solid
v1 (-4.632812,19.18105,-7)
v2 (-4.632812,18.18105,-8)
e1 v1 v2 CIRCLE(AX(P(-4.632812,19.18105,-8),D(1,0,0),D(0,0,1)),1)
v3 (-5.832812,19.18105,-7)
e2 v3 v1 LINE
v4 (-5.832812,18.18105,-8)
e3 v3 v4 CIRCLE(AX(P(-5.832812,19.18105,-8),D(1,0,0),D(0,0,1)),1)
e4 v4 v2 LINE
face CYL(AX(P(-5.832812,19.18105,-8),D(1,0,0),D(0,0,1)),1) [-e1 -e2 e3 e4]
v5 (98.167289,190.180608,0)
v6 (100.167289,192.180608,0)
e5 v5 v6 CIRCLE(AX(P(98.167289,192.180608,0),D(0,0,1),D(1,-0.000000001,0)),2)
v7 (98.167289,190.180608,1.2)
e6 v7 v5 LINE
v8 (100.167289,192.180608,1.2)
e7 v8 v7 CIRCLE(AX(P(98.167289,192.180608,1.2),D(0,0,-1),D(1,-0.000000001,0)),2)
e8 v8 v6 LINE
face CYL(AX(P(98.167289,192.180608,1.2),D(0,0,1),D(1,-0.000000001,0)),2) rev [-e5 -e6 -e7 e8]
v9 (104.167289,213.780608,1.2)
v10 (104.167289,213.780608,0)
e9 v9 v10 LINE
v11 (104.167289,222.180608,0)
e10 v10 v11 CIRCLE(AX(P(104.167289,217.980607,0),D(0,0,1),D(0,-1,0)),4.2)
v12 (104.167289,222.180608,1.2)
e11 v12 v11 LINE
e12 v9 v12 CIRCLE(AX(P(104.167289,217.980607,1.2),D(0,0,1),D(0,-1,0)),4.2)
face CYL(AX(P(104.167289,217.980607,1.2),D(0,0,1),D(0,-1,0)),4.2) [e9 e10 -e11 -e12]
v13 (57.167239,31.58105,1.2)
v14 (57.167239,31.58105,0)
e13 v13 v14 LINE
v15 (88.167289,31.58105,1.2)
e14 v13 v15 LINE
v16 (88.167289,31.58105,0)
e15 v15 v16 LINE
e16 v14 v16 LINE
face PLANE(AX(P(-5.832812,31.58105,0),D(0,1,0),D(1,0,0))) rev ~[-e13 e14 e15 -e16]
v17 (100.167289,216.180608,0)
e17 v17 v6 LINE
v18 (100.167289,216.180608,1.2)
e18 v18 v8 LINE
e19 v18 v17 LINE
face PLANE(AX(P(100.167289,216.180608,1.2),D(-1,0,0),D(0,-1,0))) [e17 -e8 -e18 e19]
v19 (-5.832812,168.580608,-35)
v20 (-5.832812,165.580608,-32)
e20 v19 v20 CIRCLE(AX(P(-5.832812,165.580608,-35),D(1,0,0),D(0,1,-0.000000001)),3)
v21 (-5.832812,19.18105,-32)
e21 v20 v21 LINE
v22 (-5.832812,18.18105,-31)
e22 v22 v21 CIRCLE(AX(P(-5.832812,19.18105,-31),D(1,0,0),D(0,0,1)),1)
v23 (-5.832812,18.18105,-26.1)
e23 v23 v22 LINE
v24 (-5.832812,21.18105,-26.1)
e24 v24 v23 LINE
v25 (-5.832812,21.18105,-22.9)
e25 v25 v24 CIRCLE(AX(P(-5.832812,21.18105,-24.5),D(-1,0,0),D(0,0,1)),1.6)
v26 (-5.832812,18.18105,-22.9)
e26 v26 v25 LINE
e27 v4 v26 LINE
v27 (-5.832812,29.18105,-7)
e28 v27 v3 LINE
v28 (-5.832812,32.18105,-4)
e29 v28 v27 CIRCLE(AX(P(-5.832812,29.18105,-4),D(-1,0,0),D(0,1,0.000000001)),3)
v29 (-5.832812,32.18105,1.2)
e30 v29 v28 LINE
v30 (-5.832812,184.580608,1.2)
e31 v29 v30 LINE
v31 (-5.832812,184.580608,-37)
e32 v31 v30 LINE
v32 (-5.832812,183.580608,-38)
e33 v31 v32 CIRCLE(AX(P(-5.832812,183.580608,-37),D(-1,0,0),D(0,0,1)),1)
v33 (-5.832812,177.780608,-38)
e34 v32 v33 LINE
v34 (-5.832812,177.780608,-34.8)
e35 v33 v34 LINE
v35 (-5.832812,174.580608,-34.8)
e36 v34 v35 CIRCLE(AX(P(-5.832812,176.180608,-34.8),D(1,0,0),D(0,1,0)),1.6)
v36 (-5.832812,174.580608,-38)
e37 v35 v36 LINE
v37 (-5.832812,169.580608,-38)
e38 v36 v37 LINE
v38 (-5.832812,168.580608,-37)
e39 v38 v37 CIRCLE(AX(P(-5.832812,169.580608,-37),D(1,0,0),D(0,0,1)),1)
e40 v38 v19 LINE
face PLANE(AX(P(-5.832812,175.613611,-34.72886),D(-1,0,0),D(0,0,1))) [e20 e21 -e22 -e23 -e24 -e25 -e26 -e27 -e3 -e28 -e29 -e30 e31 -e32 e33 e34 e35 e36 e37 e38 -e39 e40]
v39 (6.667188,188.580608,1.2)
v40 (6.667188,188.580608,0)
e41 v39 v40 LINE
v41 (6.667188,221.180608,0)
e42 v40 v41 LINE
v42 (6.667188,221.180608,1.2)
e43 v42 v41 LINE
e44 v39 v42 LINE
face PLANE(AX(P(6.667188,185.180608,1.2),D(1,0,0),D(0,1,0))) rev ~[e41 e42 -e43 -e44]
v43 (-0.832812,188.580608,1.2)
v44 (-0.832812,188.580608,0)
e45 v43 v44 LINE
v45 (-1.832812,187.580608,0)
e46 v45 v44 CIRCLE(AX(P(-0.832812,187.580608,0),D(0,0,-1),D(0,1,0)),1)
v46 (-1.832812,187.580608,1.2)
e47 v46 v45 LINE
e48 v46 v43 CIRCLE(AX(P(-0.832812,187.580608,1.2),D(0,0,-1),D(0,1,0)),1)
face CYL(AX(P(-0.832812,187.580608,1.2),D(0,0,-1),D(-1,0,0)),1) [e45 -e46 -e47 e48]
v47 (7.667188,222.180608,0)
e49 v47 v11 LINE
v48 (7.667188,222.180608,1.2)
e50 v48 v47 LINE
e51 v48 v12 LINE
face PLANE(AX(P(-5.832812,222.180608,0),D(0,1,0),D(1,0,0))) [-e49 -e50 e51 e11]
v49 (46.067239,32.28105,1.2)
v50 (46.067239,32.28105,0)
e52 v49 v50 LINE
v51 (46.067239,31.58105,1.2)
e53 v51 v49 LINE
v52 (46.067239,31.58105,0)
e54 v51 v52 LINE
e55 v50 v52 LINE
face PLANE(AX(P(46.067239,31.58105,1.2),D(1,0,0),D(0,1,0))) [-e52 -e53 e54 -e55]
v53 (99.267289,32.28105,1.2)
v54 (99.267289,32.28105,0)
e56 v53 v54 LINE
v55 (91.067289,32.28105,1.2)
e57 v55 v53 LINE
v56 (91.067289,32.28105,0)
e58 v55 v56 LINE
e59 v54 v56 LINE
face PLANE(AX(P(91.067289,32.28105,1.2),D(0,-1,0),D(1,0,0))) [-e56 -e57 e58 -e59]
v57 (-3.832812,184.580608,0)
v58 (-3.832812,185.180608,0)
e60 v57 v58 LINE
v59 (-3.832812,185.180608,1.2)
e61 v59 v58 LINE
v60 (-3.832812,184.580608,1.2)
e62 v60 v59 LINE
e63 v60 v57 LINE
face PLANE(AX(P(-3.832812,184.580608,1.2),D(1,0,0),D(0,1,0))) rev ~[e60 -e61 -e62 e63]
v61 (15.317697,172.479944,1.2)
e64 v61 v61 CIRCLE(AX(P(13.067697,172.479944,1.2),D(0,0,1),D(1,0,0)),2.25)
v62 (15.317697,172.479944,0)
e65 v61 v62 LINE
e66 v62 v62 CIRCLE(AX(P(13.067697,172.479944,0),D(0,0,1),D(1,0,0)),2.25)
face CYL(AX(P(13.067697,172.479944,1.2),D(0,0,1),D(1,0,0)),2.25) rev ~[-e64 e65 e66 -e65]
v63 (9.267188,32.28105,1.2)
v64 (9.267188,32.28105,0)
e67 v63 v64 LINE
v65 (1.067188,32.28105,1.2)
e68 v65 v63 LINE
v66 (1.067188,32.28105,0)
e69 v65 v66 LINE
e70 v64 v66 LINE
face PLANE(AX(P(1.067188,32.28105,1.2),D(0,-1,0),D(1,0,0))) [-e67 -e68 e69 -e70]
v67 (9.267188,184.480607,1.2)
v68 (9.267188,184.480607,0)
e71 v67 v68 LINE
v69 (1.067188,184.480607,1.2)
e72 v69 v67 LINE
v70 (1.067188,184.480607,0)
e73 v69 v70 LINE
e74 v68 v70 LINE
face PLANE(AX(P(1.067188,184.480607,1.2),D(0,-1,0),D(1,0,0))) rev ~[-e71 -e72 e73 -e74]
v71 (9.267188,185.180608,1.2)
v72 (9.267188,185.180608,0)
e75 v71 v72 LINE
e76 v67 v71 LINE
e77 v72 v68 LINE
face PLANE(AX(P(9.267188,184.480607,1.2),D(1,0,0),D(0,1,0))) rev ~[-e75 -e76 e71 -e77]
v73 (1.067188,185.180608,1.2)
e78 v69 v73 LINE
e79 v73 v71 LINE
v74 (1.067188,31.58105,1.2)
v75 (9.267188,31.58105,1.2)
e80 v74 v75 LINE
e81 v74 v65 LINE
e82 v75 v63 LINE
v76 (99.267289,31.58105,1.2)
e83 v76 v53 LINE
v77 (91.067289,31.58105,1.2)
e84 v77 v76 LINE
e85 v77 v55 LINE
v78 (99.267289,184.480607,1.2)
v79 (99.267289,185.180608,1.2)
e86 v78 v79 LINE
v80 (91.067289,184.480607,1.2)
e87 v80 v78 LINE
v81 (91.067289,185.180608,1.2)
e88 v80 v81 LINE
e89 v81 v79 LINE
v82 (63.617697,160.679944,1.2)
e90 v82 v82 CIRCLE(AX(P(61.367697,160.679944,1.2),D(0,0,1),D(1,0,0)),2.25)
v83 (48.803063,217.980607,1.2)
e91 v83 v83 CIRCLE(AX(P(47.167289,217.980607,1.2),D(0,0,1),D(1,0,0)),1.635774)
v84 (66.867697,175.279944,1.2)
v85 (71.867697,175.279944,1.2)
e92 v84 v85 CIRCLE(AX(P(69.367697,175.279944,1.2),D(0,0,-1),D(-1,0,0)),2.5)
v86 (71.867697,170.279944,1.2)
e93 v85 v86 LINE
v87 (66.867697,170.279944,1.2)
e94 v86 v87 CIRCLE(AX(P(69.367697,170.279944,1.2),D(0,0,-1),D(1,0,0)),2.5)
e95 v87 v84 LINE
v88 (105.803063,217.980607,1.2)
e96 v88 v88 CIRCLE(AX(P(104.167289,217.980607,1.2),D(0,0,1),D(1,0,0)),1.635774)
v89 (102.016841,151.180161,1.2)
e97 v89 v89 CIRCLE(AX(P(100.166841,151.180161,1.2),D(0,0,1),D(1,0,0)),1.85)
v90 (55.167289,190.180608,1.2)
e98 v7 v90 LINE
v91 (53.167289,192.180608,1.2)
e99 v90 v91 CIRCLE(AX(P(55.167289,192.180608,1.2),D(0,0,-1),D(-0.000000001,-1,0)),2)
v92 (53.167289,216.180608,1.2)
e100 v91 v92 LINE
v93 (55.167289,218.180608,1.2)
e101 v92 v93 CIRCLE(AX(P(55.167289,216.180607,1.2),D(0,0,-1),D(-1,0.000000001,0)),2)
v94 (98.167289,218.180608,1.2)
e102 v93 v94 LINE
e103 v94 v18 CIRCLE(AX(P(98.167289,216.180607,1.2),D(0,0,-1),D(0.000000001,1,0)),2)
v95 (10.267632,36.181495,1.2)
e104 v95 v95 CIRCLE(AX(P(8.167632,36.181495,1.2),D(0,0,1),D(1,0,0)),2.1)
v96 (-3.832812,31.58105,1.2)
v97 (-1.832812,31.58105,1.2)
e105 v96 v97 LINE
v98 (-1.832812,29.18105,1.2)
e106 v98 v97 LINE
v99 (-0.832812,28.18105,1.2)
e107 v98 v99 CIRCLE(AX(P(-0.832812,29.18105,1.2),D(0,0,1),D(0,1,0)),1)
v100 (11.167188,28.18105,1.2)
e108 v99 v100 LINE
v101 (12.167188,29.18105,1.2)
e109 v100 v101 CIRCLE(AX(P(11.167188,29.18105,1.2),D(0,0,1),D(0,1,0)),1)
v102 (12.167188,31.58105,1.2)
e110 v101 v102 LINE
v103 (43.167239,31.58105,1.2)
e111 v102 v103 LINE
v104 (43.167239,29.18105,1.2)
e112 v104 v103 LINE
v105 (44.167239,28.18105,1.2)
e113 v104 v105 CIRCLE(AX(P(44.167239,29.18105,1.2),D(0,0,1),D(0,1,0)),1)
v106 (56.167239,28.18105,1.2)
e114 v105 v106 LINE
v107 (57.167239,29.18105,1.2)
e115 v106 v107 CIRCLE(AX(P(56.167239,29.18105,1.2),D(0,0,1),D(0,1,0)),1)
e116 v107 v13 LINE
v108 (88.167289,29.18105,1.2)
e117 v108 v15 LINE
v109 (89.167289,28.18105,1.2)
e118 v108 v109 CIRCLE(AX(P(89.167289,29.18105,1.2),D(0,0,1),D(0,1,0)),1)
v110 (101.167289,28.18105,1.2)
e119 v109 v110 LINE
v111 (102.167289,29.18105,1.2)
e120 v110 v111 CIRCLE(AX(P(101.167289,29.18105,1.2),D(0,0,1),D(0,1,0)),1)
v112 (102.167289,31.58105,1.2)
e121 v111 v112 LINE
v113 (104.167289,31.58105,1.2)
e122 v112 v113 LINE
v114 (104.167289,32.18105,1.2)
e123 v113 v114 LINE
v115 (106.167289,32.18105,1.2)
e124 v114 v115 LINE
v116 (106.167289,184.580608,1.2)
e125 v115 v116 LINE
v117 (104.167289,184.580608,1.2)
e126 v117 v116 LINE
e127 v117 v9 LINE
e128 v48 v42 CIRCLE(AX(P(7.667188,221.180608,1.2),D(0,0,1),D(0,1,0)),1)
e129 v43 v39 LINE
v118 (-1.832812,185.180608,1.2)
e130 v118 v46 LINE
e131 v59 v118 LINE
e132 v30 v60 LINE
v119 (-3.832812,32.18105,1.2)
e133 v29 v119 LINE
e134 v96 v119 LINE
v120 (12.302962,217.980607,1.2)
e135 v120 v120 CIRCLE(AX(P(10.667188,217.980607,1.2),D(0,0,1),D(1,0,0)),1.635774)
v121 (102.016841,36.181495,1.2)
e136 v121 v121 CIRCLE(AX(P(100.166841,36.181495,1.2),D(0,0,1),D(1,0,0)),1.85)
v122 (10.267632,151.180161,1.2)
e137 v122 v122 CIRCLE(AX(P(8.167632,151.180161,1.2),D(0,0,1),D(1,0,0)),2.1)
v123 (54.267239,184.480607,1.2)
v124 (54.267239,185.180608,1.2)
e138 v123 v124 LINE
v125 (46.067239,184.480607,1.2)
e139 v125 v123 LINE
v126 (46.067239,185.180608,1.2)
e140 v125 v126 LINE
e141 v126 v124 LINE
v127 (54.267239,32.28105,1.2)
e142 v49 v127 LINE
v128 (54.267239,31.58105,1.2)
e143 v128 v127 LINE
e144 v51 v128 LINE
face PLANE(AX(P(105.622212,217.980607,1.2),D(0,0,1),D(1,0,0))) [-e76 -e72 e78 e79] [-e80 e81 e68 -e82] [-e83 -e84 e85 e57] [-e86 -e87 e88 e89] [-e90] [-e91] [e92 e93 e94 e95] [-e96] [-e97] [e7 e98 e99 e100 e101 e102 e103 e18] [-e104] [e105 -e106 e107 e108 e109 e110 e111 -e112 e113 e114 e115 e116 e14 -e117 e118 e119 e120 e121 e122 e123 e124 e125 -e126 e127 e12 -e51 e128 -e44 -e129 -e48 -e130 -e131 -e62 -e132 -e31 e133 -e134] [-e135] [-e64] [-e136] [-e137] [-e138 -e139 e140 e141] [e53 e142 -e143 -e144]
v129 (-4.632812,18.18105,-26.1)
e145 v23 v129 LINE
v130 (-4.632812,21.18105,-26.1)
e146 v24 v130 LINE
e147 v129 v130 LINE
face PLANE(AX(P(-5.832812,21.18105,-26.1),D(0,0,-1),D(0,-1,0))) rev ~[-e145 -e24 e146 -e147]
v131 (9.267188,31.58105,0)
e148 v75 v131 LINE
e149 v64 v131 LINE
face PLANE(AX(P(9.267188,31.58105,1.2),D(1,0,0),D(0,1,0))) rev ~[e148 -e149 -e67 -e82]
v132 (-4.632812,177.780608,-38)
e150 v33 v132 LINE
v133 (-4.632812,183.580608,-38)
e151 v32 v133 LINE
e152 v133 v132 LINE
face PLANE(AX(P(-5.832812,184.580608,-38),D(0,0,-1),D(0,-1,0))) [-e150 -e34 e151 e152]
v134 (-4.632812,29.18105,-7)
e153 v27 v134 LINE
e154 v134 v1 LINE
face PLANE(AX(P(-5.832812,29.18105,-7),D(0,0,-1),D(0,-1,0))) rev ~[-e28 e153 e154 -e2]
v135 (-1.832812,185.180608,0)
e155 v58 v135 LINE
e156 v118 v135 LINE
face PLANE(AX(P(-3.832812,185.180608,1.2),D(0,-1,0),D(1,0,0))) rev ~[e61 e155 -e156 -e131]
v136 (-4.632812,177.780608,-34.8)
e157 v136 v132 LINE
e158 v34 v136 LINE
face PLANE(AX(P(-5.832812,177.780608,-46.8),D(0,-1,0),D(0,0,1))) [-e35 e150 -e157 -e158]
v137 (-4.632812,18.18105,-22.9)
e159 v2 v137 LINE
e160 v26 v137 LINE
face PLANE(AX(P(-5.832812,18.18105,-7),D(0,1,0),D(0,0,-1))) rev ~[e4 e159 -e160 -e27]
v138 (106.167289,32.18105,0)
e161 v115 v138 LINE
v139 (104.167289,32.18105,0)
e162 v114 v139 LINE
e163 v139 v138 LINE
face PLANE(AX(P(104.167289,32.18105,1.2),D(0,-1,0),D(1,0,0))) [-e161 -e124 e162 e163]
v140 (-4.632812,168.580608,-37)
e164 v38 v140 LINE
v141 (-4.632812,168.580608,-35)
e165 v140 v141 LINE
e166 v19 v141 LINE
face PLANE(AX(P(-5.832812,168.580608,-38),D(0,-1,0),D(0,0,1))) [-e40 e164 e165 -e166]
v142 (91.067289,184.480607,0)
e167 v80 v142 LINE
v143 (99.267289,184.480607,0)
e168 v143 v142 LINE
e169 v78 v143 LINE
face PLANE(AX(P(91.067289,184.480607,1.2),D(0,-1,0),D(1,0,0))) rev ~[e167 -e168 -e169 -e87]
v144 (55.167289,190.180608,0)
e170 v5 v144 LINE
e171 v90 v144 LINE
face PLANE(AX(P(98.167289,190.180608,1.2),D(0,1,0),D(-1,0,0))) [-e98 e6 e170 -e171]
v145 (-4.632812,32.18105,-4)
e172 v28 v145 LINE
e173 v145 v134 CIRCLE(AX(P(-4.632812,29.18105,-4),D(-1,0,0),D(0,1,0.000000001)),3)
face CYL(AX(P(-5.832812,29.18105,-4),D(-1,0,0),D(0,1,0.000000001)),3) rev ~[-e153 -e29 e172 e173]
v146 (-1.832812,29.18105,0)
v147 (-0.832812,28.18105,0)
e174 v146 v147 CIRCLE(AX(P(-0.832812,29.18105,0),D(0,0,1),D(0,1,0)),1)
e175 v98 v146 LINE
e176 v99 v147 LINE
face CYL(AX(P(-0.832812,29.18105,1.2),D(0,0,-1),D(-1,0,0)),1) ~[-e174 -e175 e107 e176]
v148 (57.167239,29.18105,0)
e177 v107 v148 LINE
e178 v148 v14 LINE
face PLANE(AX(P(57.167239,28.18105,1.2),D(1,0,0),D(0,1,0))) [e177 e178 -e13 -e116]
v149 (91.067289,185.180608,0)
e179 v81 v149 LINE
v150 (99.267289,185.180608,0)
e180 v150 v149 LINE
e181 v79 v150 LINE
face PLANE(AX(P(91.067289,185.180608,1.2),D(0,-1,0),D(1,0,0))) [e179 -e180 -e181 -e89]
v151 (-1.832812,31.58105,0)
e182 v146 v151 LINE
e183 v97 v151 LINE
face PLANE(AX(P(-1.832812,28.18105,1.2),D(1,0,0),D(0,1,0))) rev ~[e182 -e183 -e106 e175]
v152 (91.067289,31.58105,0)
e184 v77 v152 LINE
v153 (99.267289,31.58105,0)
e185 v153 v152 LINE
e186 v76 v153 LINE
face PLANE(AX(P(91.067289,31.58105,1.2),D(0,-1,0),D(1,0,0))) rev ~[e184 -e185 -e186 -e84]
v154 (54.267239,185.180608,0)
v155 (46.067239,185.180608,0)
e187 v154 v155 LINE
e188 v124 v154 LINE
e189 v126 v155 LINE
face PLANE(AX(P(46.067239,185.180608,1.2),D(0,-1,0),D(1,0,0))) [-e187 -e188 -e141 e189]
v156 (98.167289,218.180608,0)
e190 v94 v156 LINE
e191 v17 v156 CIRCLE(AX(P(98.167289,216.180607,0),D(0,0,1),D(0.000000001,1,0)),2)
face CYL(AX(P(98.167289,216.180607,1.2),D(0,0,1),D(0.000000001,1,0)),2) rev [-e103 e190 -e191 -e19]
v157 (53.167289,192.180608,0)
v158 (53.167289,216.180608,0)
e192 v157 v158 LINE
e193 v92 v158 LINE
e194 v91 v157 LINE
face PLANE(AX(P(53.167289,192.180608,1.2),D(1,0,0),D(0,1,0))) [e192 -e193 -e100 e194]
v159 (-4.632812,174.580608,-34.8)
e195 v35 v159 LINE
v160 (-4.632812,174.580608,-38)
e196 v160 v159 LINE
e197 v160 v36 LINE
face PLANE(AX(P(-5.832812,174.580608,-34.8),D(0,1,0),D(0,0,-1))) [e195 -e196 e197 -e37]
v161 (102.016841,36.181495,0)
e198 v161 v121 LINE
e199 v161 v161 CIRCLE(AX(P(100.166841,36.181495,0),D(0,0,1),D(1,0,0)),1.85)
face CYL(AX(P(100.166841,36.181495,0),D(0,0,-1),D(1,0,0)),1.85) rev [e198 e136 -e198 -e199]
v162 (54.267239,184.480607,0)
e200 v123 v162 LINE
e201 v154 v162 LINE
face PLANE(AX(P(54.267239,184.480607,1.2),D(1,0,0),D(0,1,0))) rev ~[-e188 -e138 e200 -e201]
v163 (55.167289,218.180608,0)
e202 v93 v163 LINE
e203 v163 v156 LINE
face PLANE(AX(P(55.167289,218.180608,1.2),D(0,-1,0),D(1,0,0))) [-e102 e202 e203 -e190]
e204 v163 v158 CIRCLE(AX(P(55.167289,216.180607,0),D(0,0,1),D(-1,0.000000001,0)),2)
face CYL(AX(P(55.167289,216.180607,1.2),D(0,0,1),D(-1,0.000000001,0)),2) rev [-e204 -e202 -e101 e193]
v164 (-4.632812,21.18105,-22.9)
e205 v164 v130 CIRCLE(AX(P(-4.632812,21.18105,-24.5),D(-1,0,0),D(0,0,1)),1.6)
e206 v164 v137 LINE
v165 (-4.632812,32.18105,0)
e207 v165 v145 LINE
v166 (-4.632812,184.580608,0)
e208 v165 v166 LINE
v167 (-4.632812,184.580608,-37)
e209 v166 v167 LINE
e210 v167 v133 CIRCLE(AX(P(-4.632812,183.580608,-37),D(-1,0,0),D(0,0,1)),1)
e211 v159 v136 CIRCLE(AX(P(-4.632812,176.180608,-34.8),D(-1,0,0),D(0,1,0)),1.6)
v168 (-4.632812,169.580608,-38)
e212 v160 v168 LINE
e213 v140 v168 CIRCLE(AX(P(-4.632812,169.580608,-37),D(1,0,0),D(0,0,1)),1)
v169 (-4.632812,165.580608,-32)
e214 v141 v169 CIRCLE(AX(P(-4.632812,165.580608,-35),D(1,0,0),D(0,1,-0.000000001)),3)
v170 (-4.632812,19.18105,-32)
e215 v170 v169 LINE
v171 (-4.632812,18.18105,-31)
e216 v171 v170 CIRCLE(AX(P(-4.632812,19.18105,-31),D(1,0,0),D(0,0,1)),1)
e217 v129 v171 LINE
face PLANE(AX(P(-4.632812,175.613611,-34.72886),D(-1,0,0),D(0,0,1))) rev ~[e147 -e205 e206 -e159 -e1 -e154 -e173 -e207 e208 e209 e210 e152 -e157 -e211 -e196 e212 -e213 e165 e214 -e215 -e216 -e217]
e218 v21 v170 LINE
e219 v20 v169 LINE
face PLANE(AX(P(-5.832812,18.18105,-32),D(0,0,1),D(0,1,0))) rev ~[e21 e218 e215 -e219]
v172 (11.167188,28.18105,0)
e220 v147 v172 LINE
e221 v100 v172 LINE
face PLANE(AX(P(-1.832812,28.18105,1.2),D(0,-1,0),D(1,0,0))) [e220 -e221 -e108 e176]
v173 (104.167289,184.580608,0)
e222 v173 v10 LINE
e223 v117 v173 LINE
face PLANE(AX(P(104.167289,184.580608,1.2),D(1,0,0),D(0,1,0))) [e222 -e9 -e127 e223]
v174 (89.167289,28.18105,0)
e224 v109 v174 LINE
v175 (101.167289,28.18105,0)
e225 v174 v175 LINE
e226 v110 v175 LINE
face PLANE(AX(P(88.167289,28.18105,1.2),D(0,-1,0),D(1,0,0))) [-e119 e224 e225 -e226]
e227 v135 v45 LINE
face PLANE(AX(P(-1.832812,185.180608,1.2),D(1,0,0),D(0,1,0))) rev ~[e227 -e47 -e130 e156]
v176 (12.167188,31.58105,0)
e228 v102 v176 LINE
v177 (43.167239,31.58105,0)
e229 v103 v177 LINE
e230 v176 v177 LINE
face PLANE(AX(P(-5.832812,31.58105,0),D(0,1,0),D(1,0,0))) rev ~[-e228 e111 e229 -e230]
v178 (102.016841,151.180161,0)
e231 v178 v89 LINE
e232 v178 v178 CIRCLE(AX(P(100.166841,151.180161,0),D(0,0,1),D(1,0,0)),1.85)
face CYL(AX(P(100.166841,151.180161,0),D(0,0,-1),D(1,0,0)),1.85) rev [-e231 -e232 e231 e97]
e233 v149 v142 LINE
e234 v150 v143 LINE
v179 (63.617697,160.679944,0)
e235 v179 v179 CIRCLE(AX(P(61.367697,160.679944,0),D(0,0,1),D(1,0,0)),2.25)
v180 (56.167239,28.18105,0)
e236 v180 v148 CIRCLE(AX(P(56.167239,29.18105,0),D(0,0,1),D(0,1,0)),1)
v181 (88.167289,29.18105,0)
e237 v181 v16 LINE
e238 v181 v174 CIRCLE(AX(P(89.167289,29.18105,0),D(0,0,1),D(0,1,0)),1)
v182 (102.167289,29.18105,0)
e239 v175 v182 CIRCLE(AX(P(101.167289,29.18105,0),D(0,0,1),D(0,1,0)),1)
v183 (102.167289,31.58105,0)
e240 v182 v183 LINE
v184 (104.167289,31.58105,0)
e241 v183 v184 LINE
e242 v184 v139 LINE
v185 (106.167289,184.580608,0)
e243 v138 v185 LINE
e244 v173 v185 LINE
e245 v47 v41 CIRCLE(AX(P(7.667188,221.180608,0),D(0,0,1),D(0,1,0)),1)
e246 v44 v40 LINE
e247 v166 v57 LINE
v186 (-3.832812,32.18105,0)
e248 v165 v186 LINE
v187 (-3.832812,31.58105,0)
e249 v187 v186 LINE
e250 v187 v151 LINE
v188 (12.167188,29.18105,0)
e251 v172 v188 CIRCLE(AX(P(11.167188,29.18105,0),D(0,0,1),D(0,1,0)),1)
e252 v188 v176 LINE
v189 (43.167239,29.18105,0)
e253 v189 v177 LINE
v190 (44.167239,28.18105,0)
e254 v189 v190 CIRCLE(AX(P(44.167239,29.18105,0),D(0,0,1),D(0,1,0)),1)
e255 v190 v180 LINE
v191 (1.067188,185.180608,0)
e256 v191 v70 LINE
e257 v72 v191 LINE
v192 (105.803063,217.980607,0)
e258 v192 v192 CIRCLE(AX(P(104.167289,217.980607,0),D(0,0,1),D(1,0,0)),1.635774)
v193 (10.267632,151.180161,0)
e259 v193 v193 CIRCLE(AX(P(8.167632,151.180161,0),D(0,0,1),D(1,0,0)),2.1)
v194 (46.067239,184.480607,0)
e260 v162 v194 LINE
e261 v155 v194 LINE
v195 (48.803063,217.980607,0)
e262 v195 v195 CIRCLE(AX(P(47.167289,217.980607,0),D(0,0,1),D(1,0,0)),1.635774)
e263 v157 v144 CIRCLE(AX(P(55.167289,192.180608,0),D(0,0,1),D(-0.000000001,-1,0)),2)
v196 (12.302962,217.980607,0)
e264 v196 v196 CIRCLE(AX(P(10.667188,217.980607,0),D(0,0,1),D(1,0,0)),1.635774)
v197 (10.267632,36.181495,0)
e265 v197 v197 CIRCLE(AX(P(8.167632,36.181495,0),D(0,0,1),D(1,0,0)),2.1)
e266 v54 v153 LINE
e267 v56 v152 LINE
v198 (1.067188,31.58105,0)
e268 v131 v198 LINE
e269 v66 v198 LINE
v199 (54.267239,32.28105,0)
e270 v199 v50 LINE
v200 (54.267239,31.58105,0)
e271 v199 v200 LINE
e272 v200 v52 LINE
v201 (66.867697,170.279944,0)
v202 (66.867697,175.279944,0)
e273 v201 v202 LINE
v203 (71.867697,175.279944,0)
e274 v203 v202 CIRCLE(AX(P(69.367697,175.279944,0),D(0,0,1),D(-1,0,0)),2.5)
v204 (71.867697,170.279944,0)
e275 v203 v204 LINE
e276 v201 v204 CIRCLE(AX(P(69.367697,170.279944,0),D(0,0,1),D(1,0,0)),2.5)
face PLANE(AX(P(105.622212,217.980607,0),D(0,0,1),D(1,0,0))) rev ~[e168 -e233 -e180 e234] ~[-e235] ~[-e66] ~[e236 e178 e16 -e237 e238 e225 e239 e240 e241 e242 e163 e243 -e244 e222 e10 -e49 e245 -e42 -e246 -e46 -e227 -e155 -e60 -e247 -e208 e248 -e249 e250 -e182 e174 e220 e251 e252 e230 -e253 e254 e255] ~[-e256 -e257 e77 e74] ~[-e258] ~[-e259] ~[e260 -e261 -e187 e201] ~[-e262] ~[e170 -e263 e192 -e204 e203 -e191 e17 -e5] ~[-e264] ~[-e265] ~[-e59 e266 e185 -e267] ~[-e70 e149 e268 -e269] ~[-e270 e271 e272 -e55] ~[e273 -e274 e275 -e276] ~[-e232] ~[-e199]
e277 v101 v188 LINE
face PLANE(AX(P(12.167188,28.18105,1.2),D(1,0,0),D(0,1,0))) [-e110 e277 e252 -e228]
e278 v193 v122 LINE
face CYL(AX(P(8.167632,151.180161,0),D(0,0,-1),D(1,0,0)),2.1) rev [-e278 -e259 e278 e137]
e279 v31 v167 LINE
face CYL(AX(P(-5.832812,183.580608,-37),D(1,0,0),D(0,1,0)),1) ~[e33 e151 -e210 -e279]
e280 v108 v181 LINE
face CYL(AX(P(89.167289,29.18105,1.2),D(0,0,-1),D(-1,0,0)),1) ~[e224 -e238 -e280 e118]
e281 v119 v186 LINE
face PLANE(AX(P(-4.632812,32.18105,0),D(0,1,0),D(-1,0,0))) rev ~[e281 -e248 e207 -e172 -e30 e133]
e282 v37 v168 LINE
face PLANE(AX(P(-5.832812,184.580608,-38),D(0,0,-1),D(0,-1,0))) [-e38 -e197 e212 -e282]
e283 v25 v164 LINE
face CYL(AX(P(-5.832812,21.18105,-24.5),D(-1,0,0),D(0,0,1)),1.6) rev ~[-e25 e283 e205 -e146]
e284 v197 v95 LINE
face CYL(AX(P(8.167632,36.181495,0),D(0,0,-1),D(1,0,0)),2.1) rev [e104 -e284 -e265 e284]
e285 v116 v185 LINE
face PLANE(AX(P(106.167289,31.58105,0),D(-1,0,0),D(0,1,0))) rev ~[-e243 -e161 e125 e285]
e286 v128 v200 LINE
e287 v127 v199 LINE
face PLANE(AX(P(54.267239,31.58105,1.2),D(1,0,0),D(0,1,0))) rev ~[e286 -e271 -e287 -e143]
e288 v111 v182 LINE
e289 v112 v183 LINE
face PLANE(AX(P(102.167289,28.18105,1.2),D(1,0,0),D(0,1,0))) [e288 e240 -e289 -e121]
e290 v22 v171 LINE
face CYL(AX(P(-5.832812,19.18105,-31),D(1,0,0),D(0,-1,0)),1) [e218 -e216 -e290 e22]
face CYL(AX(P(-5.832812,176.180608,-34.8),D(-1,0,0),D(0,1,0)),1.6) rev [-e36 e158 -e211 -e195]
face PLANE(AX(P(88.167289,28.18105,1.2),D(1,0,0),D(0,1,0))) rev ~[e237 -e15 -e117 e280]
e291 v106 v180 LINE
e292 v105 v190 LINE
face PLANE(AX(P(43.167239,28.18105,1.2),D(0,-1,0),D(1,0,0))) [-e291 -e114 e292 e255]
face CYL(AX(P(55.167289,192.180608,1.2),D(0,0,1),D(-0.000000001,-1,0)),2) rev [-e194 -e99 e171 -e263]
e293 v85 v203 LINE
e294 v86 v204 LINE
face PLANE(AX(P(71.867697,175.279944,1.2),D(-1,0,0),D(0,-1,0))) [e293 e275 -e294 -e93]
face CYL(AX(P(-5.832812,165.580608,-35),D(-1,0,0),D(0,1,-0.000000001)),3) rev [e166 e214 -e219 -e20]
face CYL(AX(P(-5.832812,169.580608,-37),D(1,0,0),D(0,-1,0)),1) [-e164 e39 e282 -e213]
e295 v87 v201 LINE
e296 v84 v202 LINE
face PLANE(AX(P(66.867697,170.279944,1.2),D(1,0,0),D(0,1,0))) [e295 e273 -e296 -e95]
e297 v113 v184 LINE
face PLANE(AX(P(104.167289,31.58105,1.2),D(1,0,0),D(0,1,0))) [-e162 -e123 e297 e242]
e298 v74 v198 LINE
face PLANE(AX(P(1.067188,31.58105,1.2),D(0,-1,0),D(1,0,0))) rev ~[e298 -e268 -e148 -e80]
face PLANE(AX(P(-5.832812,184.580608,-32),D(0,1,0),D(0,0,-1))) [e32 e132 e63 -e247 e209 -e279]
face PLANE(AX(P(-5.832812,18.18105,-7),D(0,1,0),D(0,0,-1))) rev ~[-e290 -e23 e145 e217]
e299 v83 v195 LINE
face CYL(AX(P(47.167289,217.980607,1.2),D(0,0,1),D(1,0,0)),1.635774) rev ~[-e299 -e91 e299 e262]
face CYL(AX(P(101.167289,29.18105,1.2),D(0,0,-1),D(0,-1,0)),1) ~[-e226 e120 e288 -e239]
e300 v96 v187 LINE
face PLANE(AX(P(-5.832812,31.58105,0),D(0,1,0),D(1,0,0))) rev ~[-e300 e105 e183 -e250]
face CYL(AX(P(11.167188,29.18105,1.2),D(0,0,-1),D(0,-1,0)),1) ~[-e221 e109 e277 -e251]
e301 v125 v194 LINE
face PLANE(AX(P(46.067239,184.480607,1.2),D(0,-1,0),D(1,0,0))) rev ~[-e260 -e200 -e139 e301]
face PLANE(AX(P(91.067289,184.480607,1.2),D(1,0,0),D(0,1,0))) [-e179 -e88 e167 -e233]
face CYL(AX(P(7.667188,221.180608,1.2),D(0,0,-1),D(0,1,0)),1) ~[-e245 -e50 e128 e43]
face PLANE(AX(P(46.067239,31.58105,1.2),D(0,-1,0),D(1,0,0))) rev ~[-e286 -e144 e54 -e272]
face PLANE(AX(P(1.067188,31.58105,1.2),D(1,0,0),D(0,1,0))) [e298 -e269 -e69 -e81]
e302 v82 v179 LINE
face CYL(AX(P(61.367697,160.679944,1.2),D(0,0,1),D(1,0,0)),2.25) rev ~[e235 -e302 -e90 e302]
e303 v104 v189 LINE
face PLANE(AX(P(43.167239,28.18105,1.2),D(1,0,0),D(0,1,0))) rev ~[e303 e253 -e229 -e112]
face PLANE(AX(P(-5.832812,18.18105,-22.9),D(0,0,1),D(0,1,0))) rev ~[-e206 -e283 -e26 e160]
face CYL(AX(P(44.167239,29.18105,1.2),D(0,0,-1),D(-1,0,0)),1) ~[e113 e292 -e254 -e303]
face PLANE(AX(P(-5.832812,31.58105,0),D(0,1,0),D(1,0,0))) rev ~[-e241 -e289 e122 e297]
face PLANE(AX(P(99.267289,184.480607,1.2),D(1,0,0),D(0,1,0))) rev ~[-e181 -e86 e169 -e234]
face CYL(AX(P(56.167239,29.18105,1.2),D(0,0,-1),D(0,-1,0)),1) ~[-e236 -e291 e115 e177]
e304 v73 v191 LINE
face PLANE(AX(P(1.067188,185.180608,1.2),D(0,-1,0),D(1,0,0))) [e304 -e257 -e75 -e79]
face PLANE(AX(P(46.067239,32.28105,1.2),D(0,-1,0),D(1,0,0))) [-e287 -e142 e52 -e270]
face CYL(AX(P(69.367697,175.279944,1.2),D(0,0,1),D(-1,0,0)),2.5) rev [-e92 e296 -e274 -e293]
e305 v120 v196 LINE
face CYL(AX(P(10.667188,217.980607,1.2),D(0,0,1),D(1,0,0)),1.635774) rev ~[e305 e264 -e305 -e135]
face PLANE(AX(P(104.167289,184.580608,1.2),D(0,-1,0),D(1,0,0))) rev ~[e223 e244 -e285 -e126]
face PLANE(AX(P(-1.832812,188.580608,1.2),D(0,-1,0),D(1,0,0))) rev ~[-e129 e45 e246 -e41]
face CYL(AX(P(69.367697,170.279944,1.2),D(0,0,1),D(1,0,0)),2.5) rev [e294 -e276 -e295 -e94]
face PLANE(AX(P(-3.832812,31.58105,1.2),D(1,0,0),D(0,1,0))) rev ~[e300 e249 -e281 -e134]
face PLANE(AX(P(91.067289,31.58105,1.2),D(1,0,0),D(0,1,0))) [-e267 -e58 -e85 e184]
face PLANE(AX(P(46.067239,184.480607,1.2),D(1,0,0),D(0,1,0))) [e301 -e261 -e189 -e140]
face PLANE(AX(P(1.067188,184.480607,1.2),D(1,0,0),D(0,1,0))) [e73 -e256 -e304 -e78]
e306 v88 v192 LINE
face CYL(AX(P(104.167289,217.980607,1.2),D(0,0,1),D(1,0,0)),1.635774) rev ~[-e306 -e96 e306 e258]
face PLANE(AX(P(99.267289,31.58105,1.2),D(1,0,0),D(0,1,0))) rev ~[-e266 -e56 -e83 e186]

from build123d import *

# Parameters (mm, degrees)
SKETCH2_W           = 112.00010125
SKETCH2_H           = 190.5995575
SKETCH2_R           = 2.1
SKETCH2_R_2         = 1.85
BOSS_EXTRUDE1_DEPTH = 1.2
SKETCH5_W           = 2
SKETCH5_H           = 37.6
SKETCH5_H_2         = 0.6
CUT_EXTRUDE2_DEPTH  = 247.246128205
CUT_EXTRUDE1_DEPTH  = 247.246128205
SKETCH9_W           = 14
SKETCH9_H           = 3.4
SKETCH9_W_2         = 8.5
BOSS_EXTRUDE5_DEPTH = 1.2
FILLET1_R           = 1
CUT_EXTRUDE4_REACH  = 248.246
SKETCH10_W          = 8.2
SKETCH10_H          = 0.7
SKETCH11_R          = 2.25
CUT_EXTRUDE5_DEPTH  = 247.246128205
BOSS_EXTRUDE6_DEPTH = 1.2
SKETCH13_R          = 1.635773904
CUT_EXTRUDE6_DEPTH  = 248.202612706
SKETCH14_W          = 1.2
SKETCH14_H          = 152.3995575
BOSS_EXTRUDE7_DEPTH = 32
BOSS_EXTRUDE8_DEPTH = 1.2
BOSS_EXTRUDE9_DEPTH = 1.2
CUT_EXTRUDE7_REACH  = 254.685
FILLET2_R           = 1


with BuildPart() as part:
    # Sketch2 → Boss-Extrude1 (new body)
    with BuildSketch(Plane.XY):
        with Locations((50.167238625, 126.88082875)):
            Rectangle(SKETCH2_W, SKETCH2_H)
        with Locations((8.16763175, 151.180160625)):
            Circle(SKETCH2_R, mode=Mode.SUBTRACT)
        with Locations((100.1668405, 151.180160625)):
            Circle(SKETCH2_R_2, mode=Mode.SUBTRACT)
        with Locations((100.1668405, 36.181495)):
            Circle(SKETCH2_R_2, mode=Mode.SUBTRACT)
        with Locations((8.16763175, 36.181495)):
            Circle(SKETCH2_R, mode=Mode.SUBTRACT)
    extrude(amount=BOSS_EXTRUDE1_DEPTH)

    # Sketch5 → Cut-Extrude2 (cut, through all)
    with BuildSketch(Plane.XY.offset(1.2)):
        Polygon((-3.832812, 185.1806075), (6.667188, 185.1806075), (6.667188, 222.1806075), (-5.832812, 222.1806075), (-5.832812, 185.1806075), (-5.832812, 184.5806075), (-3.832812, 184.5806075), align=None)
        with Locations((105.16728925, 203.3806075)):
            Rectangle(SKETCH5_W, SKETCH5_H)
        with Locations((-4.832812, 31.88105)):
            Rectangle(SKETCH5_W, SKETCH5_H_2)
        with Locations((105.16728925, 31.88105)):
            Rectangle(SKETCH5_W, SKETCH5_H_2)
    extrude(amount=-CUT_EXTRUDE2_DEPTH, mode=Mode.SUBTRACT)

    # Sketch4 → Cut-Extrude1 (cut, through all)
    with BuildSketch(Plane.XY.offset(1.2)):
        with BuildLine():
            Line((55.16728925, 218.1806075), (98.16728925, 218.1806075))
            ThreePointArc((98.16728925, 218.1806075), (99.581502812, 217.594821062), (100.16728925, 216.1806075))
            Line((100.16728925, 216.1806075), (100.16728925, 192.1806075))
            ThreePointArc((100.16728925, 192.1806075), (99.581502812, 190.766393938), (98.16728925, 190.1806075))
            Line((98.16728925, 190.1806075), (55.16728925, 190.1806075))
            ThreePointArc((55.16728925, 190.1806075), (53.753075688, 190.766393938), (53.16728925, 192.1806075))
            Line((53.16728925, 192.1806075), (53.16728925, 216.1806075))
            ThreePointArc((53.16728925, 216.1806075), (53.753075688, 217.594821062), (55.16728925, 218.1806075))
        make_face()
    extrude(amount=-CUT_EXTRUDE1_DEPTH, mode=Mode.SUBTRACT)

    # Sketch9 → Boss-Extrude5 (add)
    with BuildSketch(Plane.XY.offset(1.2)):
        with Locations((5.167188, 29.88105)):
            Rectangle(SKETCH9_W, SKETCH9_H)
        with Locations((95.16728925, 29.88105)):
            Rectangle(SKETCH9_W, SKETCH9_H)
        with Locations((50.167238625, 29.88105)):
            Rectangle(SKETCH9_W, SKETCH9_H)
        with Locations((2.417188, 186.8806075)):
            Rectangle(SKETCH9_W_2, SKETCH9_H)
    extrude(amount=-BOSS_EXTRUDE5_DEPTH)

    # Fillet1
    fillet1_edges = [part.edges().sort_by_distance(p)[0] for p in [
        (102.16728925, 28.18105, 0.6),
        (88.16728925, 28.18105, 0.6),
        (57.167238625, 28.18105, 0.6),
        (43.167238625, 28.18105, 0.6),
        (12.167188, 28.18105, 0.6),
        (-1.832812, 28.18105, 0.6),
        (-1.832812, 188.5806075, 0.6),
    ]]
    fillet(fillet1_edges, radius=FILLET1_R)

    # Sketch10 → Cut-Extrude4 (cut, up to next)
    with BuildSketch(Plane.XY.offset(1.2), mode=Mode.PRIVATE) as cut_extrude4_sk1:
        with Locations((95.16728925, 31.93105)):
            Rectangle(SKETCH10_W, SKETCH10_H)
    cut_extrude4_tool1 = extrude(cut_extrude4_sk1.sketch, amount=-CUT_EXTRUDE4_REACH, mode=Mode.PRIVATE) & part.part
    # Sketch10 → Cut-Extrude4 (cut, up to next)
    with BuildSketch(Plane.XY.offset(1.2), mode=Mode.PRIVATE) as cut_extrude4_sk2:
        with Locations((50.167238625, 31.93105)):
            Rectangle(SKETCH10_W, SKETCH10_H)
    cut_extrude4_tool2 = extrude(cut_extrude4_sk2.sketch, amount=-CUT_EXTRUDE4_REACH, mode=Mode.PRIVATE) & part.part
    # Sketch10 → Cut-Extrude4 (cut, up to next)
    with BuildSketch(Plane.XY.offset(1.2), mode=Mode.PRIVATE) as cut_extrude4_sk3:
        with Locations((5.167188, 31.93105)):
            Rectangle(SKETCH10_W, SKETCH10_H)
    cut_extrude4_tool3 = extrude(cut_extrude4_sk3.sketch, amount=-CUT_EXTRUDE4_REACH, mode=Mode.PRIVATE) & part.part
    # Sketch10 → Cut-Extrude4 (cut, up to next)
    with BuildSketch(Plane.XY.offset(1.2), mode=Mode.PRIVATE) as cut_extrude4_sk4:
        with Locations((50.167238625, 184.8306075)):
            Rectangle(SKETCH10_W, SKETCH10_H)
    cut_extrude4_tool4 = extrude(cut_extrude4_sk4.sketch, amount=-CUT_EXTRUDE4_REACH, mode=Mode.PRIVATE) & part.part
    # Sketch10 → Cut-Extrude4 (cut, up to next)
    with BuildSketch(Plane.XY.offset(1.2), mode=Mode.PRIVATE) as cut_extrude4_sk5:
        with Locations((95.16728925, 184.8306075)):
            Rectangle(SKETCH10_W, SKETCH10_H)
    cut_extrude4_tool5 = extrude(cut_extrude4_sk5.sketch, amount=-CUT_EXTRUDE4_REACH, mode=Mode.PRIVATE) & part.part
    # Sketch10 → Cut-Extrude4 (cut, up to next)
    with BuildSketch(Plane.XY.offset(1.2), mode=Mode.PRIVATE) as cut_extrude4_sk6:
        with Locations((5.167188, 184.8306075)):
            Rectangle(SKETCH10_W, SKETCH10_H)
    cut_extrude4_tool6 = extrude(cut_extrude4_sk6.sketch, amount=-CUT_EXTRUDE4_REACH, mode=Mode.PRIVATE) & part.part
    add(cut_extrude4_tool1.solids().sort_by_distance((95.167289, 31.93105, 1.2))[0], mode=Mode.SUBTRACT)
    add(cut_extrude4_tool2.solids().sort_by_distance((50.167239, 31.93105, 1.2))[0], mode=Mode.SUBTRACT)
    add(cut_extrude4_tool3.solids().sort_by_distance((5.167188, 31.93105, 1.2))[0], mode=Mode.SUBTRACT)
    add(cut_extrude4_tool4.solids().sort_by_distance((50.167239, 184.830607, 1.2))[0], mode=Mode.SUBTRACT)
    add(cut_extrude4_tool5.solids().sort_by_distance((95.167289, 184.830607, 1.2))[0], mode=Mode.SUBTRACT)
    add(cut_extrude4_tool6.solids().sort_by_distance((5.167188, 184.830607, 1.2))[0], mode=Mode.SUBTRACT)

    # Sketch11 → Cut-Extrude5 (cut, through all)
    with BuildSketch(Plane.XY.offset(1.2)):
        with Locations((61.367697375, 160.67994375)):
            Circle(SKETCH11_R)
        with Locations((13.067697375, 172.47994375)):
            Circle(SKETCH11_R)
        with BuildLine():
            Line((71.867697375, 175.27994375), (71.867697375, 170.27994375))
            ThreePointArc((71.867697375, 170.27994375), (69.367697375, 167.77994375), (66.867697375, 170.27994375))
            Line((66.867697375, 170.27994375), (66.867697375, 175.27994375))
            ThreePointArc((66.867697375, 175.27994375), (69.367697375, 177.77994375), (71.867697375, 175.27994375))
        make_face()
    extrude(amount=-CUT_EXTRUDE5_DEPTH, mode=Mode.SUBTRACT)

    # Sketch12 → Boss-Extrude6 (add)
    with BuildSketch(Plane.XY.offset(1.2)):
        with BuildLine():
            Line((104.16728925, 222.1806075), (104.16728925, 213.7806075))
            ThreePointArc((104.16728925, 213.7806075), (108.36728925, 217.9806075), (104.16728925, 222.1806075))
        make_face()
    extrude(amount=-BOSS_EXTRUDE6_DEPTH)

    # Sketch13 → Cut-Extrude6 (cut, through all)
    with BuildSketch(Plane.XY.offset(1.2)):
        with Locations((104.16728925, 217.9806075)):
            Circle(SKETCH13_R)
        with Locations((47.16728925, 217.9806075)):
            Circle(SKETCH13_R)
        with Locations((10.667188, 217.9806075)):
            Circle(SKETCH13_R)
    extrude(amount=-CUT_EXTRUDE6_DEPTH, mode=Mode.SUBTRACT)

    # Sketch14 → Boss-Extrude7 (add)
    with BuildSketch(Plane(origin=(0, 0, 0), x_dir=(-1, 0, 0), z_dir=(0, 0, -1))):
        with Locations((5.232812, 108.38082875)):
            Rectangle(SKETCH14_W, SKETCH14_H)
    extrude(amount=BOSS_EXTRUDE7_DEPTH)

    # Sketch16 → Boss-Extrude8 (add)
    with BuildSketch(Plane.ZY.offset(5.832812)):
        with BuildLine():
            Line((-32, 32.18105), (-4, 32.18105))
            ThreePointArc((-4, 32.18105), (-6.121320344, 31.302370344), (-7, 29.18105))
            Line((-7, 29.18105), (-7, 18.18105))
            Line((-7, 18.18105), (-32, 18.18105))
            Line((-32, 18.18105), (-32, 32.18105))
        make_face()
    extrude(amount=-BOSS_EXTRUDE8_DEPTH)

    # Sketch17 → Boss-Extrude9 (add)
    with BuildSketch(Plane.ZY.offset(5.832812)):
        with BuildLine():
            Line((-32, 184.5806075), (-38, 184.5806075))
            Line((-38, 184.5806075), (-38, 168.5806075))
            Line((-38, 168.5806075), (-35, 168.5806075))
            ThreePointArc((-35, 168.5806075), (-32.878679656, 167.701927844), (-32, 165.5806075))
            Line((-32, 165.5806075), (-32, 184.5806075))
        make_face()
    extrude(amount=-BOSS_EXTRUDE9_DEPTH)

    # Sketch15 → Cut-Extrude7 (cut, up to next)
    with BuildSketch(Plane.ZY.offset(5.832812), mode=Mode.PRIVATE) as cut_extrude7_sk1:
        with BuildLine():
            Line((-46.8, 177.7806075), (-34.8, 177.7806075))
            ThreePointArc((-34.8, 177.7806075), (-33.2, 176.1806075), (-34.8, 174.5806075))
            Line((-34.8, 174.5806075), (-46.8, 174.5806075))
            ThreePointArc((-46.8, 174.5806075), (-48.4, 176.1806075), (-46.8, 177.7806075))
        make_face()
    cut_extrude7_tool1 = extrude(cut_extrude7_sk1.sketch, amount=-CUT_EXTRUDE7_REACH, mode=Mode.PRIVATE) & part.part
    # Sketch15 → Cut-Extrude7 (cut, up to next)
    with BuildSketch(Plane.ZY.offset(5.832812), mode=Mode.PRIVATE) as cut_extrude7_sk2:
        with BuildLine():
            Line((-26.1, 21.18105), (-26.1, 18.18105))
            Line((-26.1, 18.18105), (-22.9, 18.18105))
            Line((-22.9, 18.18105), (-22.9, 21.18105))
            ThreePointArc((-22.9, 21.18105), (-24.5, 22.78105), (-26.1, 21.18105))
        make_face()
    cut_extrude7_tool2 = extrude(cut_extrude7_sk2.sketch, amount=-CUT_EXTRUDE7_REACH, mode=Mode.PRIVATE) & part.part
    add(cut_extrude7_tool1.solids().sort_by_distance((-5.832812, 176.180608, -40.8))[0], mode=Mode.SUBTRACT)
    add(cut_extrude7_tool2.solids().sort_by_distance((-5.832812, 20.324349, -24.5))[0], mode=Mode.SUBTRACT)

    # Fillet2
    fillet2_edges = [part.edges().sort_by_distance(p)[0] for p in [
        (6.667188, 222.1806075, 0.6),
        (-5.232812, 18.18105, -32),
        (-5.232812, 18.18105, -7),
        (-5.232812, 168.5806075, -38),
        (-5.232812, 184.5806075, -38),
    ]]
    fillet(fillet2_edges, radius=FILLET2_R)


solid = part.part
